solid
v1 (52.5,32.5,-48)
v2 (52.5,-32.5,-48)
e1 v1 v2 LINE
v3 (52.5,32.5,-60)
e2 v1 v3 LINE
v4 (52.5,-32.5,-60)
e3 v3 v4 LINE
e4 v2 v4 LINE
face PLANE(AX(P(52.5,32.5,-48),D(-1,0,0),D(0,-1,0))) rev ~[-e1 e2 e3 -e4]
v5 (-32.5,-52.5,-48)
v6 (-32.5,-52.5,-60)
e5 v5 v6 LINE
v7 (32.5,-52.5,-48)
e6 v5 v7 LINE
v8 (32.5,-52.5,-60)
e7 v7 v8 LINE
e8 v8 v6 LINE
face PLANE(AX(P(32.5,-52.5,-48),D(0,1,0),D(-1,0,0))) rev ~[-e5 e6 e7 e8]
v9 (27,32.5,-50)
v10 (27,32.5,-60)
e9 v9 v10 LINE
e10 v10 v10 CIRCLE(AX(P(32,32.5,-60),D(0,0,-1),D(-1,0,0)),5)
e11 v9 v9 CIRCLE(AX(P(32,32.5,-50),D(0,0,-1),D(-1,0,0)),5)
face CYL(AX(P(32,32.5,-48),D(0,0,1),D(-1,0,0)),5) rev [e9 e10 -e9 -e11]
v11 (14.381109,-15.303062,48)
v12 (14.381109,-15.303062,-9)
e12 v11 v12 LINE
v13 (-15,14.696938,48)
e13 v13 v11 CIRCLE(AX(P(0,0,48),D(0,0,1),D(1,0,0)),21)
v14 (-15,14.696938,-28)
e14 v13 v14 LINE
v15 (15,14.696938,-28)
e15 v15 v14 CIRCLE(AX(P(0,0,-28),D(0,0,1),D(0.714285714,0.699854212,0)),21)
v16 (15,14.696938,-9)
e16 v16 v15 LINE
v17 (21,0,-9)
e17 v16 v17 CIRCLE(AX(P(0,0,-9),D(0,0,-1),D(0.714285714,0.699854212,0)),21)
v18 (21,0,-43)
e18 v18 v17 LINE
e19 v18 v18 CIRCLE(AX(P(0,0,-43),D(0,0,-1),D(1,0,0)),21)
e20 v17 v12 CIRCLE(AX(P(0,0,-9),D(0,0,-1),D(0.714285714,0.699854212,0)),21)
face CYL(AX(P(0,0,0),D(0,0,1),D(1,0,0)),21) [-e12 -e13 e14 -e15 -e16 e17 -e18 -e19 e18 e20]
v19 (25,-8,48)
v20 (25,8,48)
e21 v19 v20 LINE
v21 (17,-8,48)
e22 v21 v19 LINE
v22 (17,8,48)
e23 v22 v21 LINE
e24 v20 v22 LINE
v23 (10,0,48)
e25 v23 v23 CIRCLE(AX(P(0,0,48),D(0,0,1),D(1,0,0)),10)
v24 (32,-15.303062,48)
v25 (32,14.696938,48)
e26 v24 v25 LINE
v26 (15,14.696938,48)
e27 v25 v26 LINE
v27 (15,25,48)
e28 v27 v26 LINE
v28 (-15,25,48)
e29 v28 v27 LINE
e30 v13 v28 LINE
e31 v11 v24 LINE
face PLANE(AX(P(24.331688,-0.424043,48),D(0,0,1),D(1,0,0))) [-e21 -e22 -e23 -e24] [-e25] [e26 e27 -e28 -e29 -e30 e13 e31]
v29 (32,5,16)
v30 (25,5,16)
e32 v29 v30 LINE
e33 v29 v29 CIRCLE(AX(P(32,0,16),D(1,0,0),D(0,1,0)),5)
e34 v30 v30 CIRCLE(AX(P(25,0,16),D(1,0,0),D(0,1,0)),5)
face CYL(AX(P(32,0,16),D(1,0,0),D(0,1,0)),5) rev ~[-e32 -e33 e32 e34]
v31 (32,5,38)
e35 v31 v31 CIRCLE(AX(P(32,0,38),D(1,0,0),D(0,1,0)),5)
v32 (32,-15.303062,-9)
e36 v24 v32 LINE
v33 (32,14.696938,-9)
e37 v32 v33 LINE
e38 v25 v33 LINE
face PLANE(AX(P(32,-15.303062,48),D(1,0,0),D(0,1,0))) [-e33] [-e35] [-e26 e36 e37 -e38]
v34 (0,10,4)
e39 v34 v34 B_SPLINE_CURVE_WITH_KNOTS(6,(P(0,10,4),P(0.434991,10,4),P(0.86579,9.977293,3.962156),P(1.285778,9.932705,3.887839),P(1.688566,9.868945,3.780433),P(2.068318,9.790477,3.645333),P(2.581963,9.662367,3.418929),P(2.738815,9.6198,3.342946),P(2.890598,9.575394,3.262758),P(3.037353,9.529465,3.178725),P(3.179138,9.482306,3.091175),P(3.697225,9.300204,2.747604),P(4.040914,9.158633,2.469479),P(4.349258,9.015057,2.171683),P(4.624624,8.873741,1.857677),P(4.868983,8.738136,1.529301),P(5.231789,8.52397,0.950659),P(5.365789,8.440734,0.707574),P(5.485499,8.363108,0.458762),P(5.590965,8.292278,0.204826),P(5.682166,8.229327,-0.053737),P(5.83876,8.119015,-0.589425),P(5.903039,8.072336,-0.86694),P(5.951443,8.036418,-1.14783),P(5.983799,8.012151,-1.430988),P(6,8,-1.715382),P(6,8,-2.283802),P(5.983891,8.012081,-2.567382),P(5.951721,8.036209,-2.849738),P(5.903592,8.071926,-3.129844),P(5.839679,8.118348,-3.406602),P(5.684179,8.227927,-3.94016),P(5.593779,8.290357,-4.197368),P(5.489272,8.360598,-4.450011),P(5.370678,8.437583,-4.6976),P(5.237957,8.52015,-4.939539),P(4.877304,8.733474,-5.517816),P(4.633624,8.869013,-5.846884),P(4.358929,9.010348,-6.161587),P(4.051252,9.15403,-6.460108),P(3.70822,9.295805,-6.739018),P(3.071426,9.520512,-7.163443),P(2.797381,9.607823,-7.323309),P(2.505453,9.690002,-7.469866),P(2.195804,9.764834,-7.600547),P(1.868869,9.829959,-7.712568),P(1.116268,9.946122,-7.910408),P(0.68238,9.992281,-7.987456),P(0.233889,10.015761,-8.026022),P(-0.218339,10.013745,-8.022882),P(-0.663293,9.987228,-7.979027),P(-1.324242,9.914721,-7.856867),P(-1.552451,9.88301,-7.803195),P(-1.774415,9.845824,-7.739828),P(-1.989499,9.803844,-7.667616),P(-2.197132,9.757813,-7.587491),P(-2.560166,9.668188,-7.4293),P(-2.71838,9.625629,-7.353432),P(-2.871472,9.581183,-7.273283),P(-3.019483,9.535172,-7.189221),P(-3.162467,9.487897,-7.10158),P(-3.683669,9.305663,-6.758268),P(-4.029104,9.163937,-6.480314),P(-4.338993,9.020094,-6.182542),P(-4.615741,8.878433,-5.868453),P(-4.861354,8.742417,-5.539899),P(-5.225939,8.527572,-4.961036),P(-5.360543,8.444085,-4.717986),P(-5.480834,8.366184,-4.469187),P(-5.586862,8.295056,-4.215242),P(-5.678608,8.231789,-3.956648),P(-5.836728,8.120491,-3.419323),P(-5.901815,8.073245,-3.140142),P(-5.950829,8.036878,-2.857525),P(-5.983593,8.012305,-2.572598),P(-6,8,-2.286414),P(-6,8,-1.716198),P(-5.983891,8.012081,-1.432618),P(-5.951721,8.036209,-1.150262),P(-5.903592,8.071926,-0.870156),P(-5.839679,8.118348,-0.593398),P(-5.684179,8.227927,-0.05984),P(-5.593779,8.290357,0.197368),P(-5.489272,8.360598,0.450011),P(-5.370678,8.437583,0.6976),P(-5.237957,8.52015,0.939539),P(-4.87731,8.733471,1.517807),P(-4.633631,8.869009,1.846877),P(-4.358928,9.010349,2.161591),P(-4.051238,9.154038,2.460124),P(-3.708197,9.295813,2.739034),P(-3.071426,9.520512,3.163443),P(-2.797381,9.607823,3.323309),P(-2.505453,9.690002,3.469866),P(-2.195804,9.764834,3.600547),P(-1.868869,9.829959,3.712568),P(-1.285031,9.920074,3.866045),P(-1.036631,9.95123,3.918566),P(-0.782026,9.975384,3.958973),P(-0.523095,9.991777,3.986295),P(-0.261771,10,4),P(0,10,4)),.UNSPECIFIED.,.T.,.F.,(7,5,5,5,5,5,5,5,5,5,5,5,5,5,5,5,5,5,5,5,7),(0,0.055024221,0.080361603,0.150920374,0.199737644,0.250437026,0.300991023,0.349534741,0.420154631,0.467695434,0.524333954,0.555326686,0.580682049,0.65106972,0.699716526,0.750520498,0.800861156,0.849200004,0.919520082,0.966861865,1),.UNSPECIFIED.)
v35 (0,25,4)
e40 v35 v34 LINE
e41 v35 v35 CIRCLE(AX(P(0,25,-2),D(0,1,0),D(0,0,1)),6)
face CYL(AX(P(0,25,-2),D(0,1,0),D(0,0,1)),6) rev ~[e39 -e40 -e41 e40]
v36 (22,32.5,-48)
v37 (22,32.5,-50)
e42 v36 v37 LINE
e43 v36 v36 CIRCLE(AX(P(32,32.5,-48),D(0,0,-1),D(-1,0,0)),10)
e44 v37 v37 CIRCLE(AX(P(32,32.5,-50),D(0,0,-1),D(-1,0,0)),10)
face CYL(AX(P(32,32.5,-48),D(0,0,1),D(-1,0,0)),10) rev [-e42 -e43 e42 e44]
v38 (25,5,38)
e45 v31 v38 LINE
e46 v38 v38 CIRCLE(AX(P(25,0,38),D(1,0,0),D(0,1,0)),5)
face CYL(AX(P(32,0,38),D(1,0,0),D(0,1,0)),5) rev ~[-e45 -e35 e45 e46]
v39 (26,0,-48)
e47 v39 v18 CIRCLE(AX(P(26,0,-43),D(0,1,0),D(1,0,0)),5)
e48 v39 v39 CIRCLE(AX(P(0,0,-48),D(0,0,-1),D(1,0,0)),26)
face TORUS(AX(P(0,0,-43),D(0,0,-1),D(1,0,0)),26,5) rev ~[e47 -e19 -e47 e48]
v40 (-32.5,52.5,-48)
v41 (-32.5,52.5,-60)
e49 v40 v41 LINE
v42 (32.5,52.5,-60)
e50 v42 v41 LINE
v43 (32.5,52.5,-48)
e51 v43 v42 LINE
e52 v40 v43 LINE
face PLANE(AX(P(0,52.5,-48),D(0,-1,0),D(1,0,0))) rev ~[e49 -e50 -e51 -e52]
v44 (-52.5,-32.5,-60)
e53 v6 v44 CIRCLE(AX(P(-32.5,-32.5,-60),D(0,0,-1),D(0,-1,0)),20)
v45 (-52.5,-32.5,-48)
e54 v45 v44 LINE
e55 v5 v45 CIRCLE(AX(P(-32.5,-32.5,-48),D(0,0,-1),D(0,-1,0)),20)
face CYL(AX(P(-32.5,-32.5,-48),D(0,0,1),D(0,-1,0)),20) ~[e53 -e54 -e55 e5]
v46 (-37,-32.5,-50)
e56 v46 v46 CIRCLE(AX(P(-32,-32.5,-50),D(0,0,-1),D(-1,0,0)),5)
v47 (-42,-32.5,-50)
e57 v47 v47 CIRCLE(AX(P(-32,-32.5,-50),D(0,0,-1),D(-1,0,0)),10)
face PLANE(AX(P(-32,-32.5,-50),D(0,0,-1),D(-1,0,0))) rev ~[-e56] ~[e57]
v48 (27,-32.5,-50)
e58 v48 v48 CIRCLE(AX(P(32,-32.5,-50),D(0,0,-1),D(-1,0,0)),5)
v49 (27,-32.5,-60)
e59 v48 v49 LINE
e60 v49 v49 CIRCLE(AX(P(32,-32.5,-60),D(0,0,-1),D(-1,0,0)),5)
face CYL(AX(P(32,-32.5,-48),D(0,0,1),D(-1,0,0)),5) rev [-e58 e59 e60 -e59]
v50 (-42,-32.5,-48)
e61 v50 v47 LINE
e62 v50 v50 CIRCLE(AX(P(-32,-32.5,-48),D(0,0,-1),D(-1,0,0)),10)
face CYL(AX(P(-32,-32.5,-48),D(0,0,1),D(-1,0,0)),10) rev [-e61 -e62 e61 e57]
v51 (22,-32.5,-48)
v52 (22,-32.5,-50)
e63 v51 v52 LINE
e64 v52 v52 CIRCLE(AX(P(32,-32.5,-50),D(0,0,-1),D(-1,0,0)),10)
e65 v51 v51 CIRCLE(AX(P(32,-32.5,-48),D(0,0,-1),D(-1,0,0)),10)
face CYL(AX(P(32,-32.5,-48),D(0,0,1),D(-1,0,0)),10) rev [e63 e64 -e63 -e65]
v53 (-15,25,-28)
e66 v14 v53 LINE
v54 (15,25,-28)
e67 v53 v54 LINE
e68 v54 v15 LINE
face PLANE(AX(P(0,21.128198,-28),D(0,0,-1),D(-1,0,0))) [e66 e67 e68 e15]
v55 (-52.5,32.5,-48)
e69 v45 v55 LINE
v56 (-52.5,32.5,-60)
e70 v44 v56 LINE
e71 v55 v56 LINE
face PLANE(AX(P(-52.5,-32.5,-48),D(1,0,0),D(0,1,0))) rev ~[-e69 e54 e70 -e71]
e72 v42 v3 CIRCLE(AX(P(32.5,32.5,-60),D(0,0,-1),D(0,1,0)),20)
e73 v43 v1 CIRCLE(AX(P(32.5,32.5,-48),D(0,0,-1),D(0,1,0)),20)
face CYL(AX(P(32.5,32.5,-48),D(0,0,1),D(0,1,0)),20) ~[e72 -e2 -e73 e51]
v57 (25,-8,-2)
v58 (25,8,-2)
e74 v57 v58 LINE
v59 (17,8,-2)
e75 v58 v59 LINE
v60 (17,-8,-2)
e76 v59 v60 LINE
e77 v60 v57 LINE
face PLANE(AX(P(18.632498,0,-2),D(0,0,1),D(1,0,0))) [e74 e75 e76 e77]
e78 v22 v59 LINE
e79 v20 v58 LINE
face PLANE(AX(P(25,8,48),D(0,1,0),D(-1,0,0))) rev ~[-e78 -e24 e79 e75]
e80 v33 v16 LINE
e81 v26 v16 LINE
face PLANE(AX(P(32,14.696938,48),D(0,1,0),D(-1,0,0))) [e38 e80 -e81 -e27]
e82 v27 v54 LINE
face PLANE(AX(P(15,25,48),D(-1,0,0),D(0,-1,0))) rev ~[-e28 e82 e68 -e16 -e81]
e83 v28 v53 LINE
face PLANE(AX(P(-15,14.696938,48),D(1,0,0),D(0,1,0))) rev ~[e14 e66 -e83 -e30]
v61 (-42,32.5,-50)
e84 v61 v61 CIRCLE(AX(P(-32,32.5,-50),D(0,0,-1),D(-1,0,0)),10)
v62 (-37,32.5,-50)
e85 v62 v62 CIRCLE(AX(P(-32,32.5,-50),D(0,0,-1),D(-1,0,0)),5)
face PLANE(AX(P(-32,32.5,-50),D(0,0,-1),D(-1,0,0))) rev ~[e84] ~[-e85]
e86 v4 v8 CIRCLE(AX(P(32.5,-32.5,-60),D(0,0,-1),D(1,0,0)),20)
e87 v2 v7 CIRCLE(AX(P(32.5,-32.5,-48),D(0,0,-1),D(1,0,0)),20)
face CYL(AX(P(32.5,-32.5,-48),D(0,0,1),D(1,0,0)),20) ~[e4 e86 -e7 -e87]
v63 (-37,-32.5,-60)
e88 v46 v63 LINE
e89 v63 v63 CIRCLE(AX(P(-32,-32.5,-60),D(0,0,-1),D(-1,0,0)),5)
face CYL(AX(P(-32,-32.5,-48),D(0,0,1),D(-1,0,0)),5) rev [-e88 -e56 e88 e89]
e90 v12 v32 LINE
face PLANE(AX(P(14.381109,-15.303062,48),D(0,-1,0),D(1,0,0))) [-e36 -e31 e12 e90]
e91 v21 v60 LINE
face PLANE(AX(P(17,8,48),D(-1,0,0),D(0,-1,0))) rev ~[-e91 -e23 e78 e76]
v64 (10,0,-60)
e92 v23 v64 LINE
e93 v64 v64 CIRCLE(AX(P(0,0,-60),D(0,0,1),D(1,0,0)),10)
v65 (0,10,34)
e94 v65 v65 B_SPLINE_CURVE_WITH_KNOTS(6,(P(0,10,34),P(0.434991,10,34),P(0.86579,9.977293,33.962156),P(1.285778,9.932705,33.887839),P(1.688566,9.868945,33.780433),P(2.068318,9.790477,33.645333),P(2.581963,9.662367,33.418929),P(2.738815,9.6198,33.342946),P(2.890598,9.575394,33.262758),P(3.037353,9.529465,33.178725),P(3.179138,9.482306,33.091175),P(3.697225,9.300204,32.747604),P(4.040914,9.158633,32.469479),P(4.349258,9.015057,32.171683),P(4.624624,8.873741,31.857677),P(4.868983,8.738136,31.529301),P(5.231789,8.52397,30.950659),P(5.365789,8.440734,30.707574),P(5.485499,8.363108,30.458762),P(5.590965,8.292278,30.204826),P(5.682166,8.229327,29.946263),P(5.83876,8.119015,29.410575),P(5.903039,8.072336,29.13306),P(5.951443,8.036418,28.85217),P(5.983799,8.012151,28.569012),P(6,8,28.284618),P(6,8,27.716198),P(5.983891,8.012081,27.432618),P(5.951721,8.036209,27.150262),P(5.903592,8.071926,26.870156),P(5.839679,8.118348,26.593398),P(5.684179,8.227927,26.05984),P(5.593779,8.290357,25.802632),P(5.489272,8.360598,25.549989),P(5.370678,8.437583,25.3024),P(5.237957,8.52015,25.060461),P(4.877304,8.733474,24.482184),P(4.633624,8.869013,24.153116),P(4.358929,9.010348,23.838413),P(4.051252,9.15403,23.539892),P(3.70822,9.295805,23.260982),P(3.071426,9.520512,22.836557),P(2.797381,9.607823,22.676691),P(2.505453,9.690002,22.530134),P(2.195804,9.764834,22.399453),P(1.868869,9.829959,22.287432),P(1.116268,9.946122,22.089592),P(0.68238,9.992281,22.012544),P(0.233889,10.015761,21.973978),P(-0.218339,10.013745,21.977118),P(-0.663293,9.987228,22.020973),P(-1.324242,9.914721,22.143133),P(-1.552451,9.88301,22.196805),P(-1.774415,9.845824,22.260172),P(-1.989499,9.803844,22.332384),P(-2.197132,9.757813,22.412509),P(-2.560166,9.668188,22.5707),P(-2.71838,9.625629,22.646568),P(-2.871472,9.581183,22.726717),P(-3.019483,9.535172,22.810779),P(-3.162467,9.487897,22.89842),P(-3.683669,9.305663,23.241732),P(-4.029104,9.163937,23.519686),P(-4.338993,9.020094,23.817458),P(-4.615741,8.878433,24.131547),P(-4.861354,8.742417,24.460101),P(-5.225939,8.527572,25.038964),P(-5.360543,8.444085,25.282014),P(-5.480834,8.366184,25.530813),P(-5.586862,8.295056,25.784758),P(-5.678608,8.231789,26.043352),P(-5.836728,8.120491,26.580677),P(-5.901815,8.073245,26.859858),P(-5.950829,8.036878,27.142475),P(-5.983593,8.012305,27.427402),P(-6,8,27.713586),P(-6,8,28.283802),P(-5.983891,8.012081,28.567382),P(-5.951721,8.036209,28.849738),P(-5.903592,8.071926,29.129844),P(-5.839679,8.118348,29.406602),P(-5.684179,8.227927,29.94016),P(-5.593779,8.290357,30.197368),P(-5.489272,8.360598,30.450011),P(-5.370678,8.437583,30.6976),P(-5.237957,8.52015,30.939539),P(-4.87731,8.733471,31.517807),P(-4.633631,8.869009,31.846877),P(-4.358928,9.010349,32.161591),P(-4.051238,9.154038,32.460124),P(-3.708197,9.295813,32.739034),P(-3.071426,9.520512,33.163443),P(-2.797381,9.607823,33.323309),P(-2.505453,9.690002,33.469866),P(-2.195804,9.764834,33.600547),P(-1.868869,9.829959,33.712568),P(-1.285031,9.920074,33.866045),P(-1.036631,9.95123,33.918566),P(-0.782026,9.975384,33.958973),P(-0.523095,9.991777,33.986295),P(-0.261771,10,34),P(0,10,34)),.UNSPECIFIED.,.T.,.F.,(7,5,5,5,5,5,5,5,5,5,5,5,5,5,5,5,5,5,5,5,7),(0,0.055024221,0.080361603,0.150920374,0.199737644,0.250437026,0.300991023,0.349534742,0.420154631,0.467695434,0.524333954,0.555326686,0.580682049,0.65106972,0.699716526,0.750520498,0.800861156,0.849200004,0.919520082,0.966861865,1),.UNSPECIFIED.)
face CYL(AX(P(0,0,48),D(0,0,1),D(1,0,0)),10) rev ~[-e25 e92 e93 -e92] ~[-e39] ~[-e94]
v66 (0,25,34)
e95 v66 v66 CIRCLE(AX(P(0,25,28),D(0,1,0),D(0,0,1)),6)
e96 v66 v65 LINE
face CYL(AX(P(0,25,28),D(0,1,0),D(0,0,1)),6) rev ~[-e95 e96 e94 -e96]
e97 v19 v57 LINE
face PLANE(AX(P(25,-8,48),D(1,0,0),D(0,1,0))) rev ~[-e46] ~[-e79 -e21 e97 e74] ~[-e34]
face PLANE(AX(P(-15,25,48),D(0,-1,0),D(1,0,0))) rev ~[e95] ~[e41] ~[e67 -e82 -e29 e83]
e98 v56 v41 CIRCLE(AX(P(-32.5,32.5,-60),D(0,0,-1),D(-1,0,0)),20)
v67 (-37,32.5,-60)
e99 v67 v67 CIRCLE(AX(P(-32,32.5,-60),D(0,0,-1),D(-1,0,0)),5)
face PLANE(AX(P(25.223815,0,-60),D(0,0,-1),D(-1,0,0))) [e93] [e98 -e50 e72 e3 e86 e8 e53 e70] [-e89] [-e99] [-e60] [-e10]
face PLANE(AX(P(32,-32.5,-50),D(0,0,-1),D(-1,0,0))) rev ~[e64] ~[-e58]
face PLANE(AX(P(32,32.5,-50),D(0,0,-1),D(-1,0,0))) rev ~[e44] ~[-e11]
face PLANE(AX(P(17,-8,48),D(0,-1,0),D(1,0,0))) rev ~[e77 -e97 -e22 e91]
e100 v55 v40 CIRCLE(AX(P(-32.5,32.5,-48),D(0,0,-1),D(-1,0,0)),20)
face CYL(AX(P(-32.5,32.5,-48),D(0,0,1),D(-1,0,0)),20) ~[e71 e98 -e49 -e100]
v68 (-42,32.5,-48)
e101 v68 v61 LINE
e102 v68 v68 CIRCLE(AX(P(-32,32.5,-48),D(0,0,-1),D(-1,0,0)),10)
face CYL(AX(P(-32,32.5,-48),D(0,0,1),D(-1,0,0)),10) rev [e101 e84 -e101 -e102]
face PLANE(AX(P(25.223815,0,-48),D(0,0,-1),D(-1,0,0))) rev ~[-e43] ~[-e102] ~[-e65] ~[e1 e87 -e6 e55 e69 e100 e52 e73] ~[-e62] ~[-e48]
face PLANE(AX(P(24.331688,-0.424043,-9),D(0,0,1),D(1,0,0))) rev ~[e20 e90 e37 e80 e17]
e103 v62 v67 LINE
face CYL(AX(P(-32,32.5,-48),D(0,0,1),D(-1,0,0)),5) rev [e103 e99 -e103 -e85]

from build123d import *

# Parameters (mm, degrees)
SKETCH1_R               = 21
BOSS_EXTRUDE1_DEPTH     = 48
SKETCH2_R               = 10
SKETCH2_R_2             = 5
BOSS_EXTRUDE2_DEPTH     = 12
SKETCH2_3_R             = 10
SKETCH2_3_R_2           = 5
CUT_EXTRUDE1_DEPTH      = 2
FILLET8_R               = 5
BOSS_EXTRUDE3_DEPTH     = 76
BOSS_EXTRUDE4_DEPTH     = 57
CUT_EXTRUDE2_DEPTH      = 50
SKETCH5_R               = 10
CUT_EXTRUDE3_DEPTH      = 132.059146953
CUT_EXTRUDE4_REACH      = 113.187
CUT_EXTRUDE4_END_RADIUS = 10
SKETCH6_R               = 6
CUT_EXTRUDE5_REACH      = 118.174
SKETCH7_R               = 5


with BuildPart() as part:
    # Sketch1 → Boss-Extrude1 (new, symmetric)
    with BuildSketch(Plane.XY):
        Circle(SKETCH1_R)
    extrude(amount=BOSS_EXTRUDE1_DEPTH, both=True)

    # Sketch2 → Boss-Extrude2 (add)
    # profile 1 of 10: a face of its own
    with BuildSketch(Plane(origin=(0, 0, -48), x_dir=(-1, 0, 0), z_dir=(0, 0, -1))):
        with BuildLine():
            Line((0, 52.5), (-32.5, 52.5))
            ThreePointArc((-32.5, 52.5), (-46.642135624, 46.642135624), (-52.5, 32.5))
            Line((-52.5, 32.5), (-52.5, -32.5))
            ThreePointArc((-52.5, -32.5), (-46.642135624, -46.642135624), (-32.5, -52.5))
            Line((-32.5, -52.5), (0, -52.5))
            Line((0, -52.5), (0, -21))
            ThreePointArc((0, -21), (-21, 0), (0, 21))
            Line((0, 21), (0, 52.5))
        make_face()
        with Locations((-32, -32.5)):
            Circle(SKETCH2_R, mode=Mode.SUBTRACT)
        with Locations((-32, 32.5)):
            Circle(SKETCH2_R, mode=Mode.SUBTRACT)
    # profile 2 of 10: a face of its own
    with BuildSketch(Plane(origin=(0, 0, -48), x_dir=(-1, 0, 0), z_dir=(0, 0, -1))):
        with BuildLine():
            Line((32.5, 52.5), (0, 52.5))
            Line((0, 52.5), (0, 21))
            ThreePointArc((0, 21), (14.849242405, 14.849242405), (21, 0))
            ThreePointArc((21, 0), (14.849242405, -14.849242405), (0, -21))
            Line((0, -21), (0, -52.5))
            Line((0, -52.5), (32.5, -52.5))
            ThreePointArc((32.5, -52.5), (46.642135624, -46.642135624), (52.5, -32.5))
            Line((52.5, -32.5), (52.5, 32.5))
            ThreePointArc((52.5, 32.5), (46.642135624, 46.642135624), (32.5, 52.5))
        make_face()
        with Locations((32, -32.5)):
            Circle(SKETCH2_R, mode=Mode.SUBTRACT)
        with Locations((32, 32.5)):
            Circle(SKETCH2_R, mode=Mode.SUBTRACT)
    # profile 3 of 10: a face of its own
    with BuildSketch(Plane(origin=(0, 0, -48), x_dir=(-1, 0, 0), z_dir=(0, 0, -1))):
        with Locations((-32, 32.5)):
            Circle(SKETCH2_R)
        with Locations((-32, 32.5)):
            Circle(SKETCH2_R_2, mode=Mode.SUBTRACT)
    # profile 4 of 10: a face of its own
    with BuildSketch(Plane(origin=(0, 0, -48), x_dir=(-1, 0, 0), z_dir=(0, 0, -1))):
        with Locations((-32, -32.5)):
            Circle(SKETCH2_R)
        with Locations((-32, -32.5)):
            Circle(SKETCH2_R_2, mode=Mode.SUBTRACT)
    # profile 5 of 10: a face of its own
    with BuildSketch(Plane(origin=(0, 0, -48), x_dir=(-1, 0, 0), z_dir=(0, 0, -1))):
        with Locations((32, 32.5)):
            Circle(SKETCH2_R)
        with Locations((32, 32.5)):
            Circle(SKETCH2_R_2, mode=Mode.SUBTRACT)
    # profile 6 of 10: a face of its own
    with BuildSketch(Plane(origin=(0, 0, -48), x_dir=(-1, 0, 0), z_dir=(0, 0, -1))):
        with Locations((32, -32.5)):
            Circle(SKETCH2_R)
        with Locations((32, -32.5)):
            Circle(SKETCH2_R_2, mode=Mode.SUBTRACT)
    # profile 7 of 10: a face of its own
    with BuildSketch(Plane(origin=(0, 0, -48), x_dir=(-1, 0, 0), z_dir=(0, 0, -1))):
        with BuildLine():
            ThreePointArc((21, 0), (14.849242405, 14.849242405), (0, 21))
            Line((0, 21), (0, -21))
            ThreePointArc((0, -21), (14.849242405, -14.849242405), (21, 0))
        make_face()
    # profile 8 of 10: a face of its own
    with BuildSketch(Plane(origin=(0, 0, -48), x_dir=(-1, 0, 0), z_dir=(0, 0, -1))):
        with BuildLine():
            Line((0, -21), (0, 21))
            ThreePointArc((0, 21), (-21, 0), (0, -21))
        make_face()
    # profile 9 of 10: a face of its own
    with BuildSketch(Plane(origin=(0, 0, -48), x_dir=(-1, 0, 0), z_dir=(0, 0, -1))):
        with BuildLine():
            ThreePointArc((21, 0), (14.849242405, 14.849242405), (0, 21))
            Line((0, 21), (0, -21))
            ThreePointArc((0, -21), (14.849242405, -14.849242405), (21, 0))
        make_face()
    # profile 10 of 10: a face of its own
    with BuildSketch(Plane(origin=(0, 0, -48), x_dir=(-1, 0, 0), z_dir=(0, 0, -1))):
        with BuildLine():
            Line((0, -21), (0, 21))
            ThreePointArc((0, 21), (-21, 0), (0, -21))
        make_face()
    extrude(amount=BOSS_EXTRUDE2_DEPTH)

    # Sketch2<3> → Cut-Extrude1 (cut)
    # profile 1 of 4: a face of its own
    with BuildSketch(Plane(origin=(0, 0, -48), x_dir=(-1, 0, 0), z_dir=(0, 0, -1))):
        with Locations((32, 32.5)):
            Circle(SKETCH2_3_R)
        with Locations((32, 32.5)):
            Circle(SKETCH2_3_R_2, mode=Mode.SUBTRACT)
    # profile 2 of 4: a face of its own
    with BuildSketch(Plane(origin=(0, 0, -48), x_dir=(-1, 0, 0), z_dir=(0, 0, -1))):
        with Locations((-32, 32.5)):
            Circle(SKETCH2_3_R)
        with Locations((-32, 32.5)):
            Circle(SKETCH2_3_R_2, mode=Mode.SUBTRACT)
    # profile 3 of 4: a face of its own
    with BuildSketch(Plane(origin=(0, 0, -48), x_dir=(-1, 0, 0), z_dir=(0, 0, -1))):
        with Locations((-32, -32.5)):
            Circle(SKETCH2_3_R)
        with Locations((-32, -32.5)):
            Circle(SKETCH2_3_R_2, mode=Mode.SUBTRACT)
    # profile 4 of 4: a face of its own
    with BuildSketch(Plane(origin=(0, 0, -48), x_dir=(-1, 0, 0), z_dir=(0, 0, -1))):
        with Locations((32, -32.5)):
            Circle(SKETCH2_3_R)
        with Locations((32, -32.5)):
            Circle(SKETCH2_3_R_2, mode=Mode.SUBTRACT)
    extrude(amount=CUT_EXTRUDE1_DEPTH, mode=Mode.SUBTRACT)

    # Fillet8
    fillet8_edges = [part.edges().sort_by_distance(p)[0] for p in [
        (-21, 0, -48),
    ]]
    fillet(fillet8_edges, radius=FILLET8_R)

    # Sketch3 → Boss-Extrude3 (add)
    with BuildSketch(Plane.XY.offset(48)):
        with BuildLine():
            Line((-15, 25), (15, 25))
            Line((15, 25), (15, 14.696938457))
            ThreePointArc((15, 14.696938457), (0, 21), (-15, 14.696938457))
            Line((-15, 14.696938457), (-15, 25))
        make_face()
    extrude(amount=-BOSS_EXTRUDE3_DEPTH)

    # Sketch4 → Boss-Extrude4 (add)
    with BuildSketch(Plane.XY.offset(48)):
        with BuildLine():
            Line((32, 14.696938457), (15, 14.696938457))
            ThreePointArc((15, 14.696938457), (20.995532794, -0.433131267), (14.381109394, -15.303061543))
            Line((14.381109394, -15.303061543), (32, -15.303061543))
            Line((32, -15.303061543), (32, 14.696938457))
        make_face()
    extrude(amount=-BOSS_EXTRUDE4_DEPTH)

    # Sketch4<3> → Cut-Extrude2 (cut)
    with BuildSketch(Plane.XY.offset(48)):
        with BuildLine():
            ThreePointArc((19.416487839, -8), (21, 0), (19.416487839, 8))
            Line((19.416487839, 8), (17, 8))
            Line((17, 8), (17, -8))
            Line((17, -8), (19.416487839, -8))
        make_face()
        with BuildLine():
            Line((25, 8), (19.416487839, 8))
            ThreePointArc((19.416487839, 8), (21, 0), (19.416487839, -8))
            Line((19.416487839, -8), (25, -8))
            Line((25, -8), (25, 8))
        make_face()
    extrude(amount=-CUT_EXTRUDE2_DEPTH, mode=Mode.SUBTRACT)

    # Sketch5 → Cut-Extrude3 (cut, through all)
    with BuildSketch(Plane.XY.offset(48)):
        Circle(SKETCH5_R)
    extrude(amount=-CUT_EXTRUDE3_DEPTH, mode=Mode.SUBTRACT)

    # Cut-Extrude4: up to this cylinder (the profile starts outside it)
    cut_extrude4_end = Plane(origin=(0, 0, 13), z_dir=(0, 0, 1)) * Cylinder(CUT_EXTRUDE4_END_RADIUS, 277.374, mode=Mode.PRIVATE)
    # Sketch6 → Cut-Extrude4 (cut, up to the surface)
    with BuildSketch(Plane(origin=(0, 25, 0), x_dir=(1, 0, 0), z_dir=(0, 1, 0)), mode=Mode.PRIVATE) as cut_extrude4_sk1:
        with Locations(Location((0, 2, 0), (0, 0, 270))):
            Circle(SKETCH6_R)
    cut_extrude4_tool1 = extrude(cut_extrude4_sk1.sketch, amount=-CUT_EXTRUDE4_REACH, mode=Mode.PRIVATE) - cut_extrude4_end
    add(cut_extrude4_tool1.solids().sort_by_distance((0, 25, -2))[0], mode=Mode.SUBTRACT)
    # Sketch6 → Cut-Extrude4 (cut, up to the surface)
    with BuildSketch(Plane(origin=(0, 25, 0), x_dir=(1, 0, 0), z_dir=(0, 1, 0)), mode=Mode.PRIVATE) as cut_extrude4_sk2:
        with Locations(Location((0, -28, 0), (0, 0, 270))):
            Circle(SKETCH6_R)
    cut_extrude4_tool2 = extrude(cut_extrude4_sk2.sketch, amount=-CUT_EXTRUDE4_REACH, mode=Mode.PRIVATE) - cut_extrude4_end
    add(cut_extrude4_tool2.solids().sort_by_distance((0, 25, 28))[0], mode=Mode.SUBTRACT)

    # Sketch7 → Cut-Extrude5 (cut, up to next)
    with BuildSketch(Plane(origin=(32, 0, 0), x_dir=(0, 0, -1), z_dir=(1, 0, 0)), mode=Mode.PRIVATE) as cut_extrude5_sk1:
        with Locations(Location((-38, 0, 0), (0, 0, 90))):
            Circle(SKETCH7_R)
    cut_extrude5_tool1 = extrude(cut_extrude5_sk1.sketch, amount=-CUT_EXTRUDE5_REACH, mode=Mode.PRIVATE) & part.part
    # Sketch7 → Cut-Extrude5 (cut, up to next)
    with BuildSketch(Plane(origin=(32, 0, 0), x_dir=(0, 0, -1), z_dir=(1, 0, 0)), mode=Mode.PRIVATE) as cut_extrude5_sk2:
        with Locations(Location((-16, 0, 0), (0, 0, 90))):
            Circle(SKETCH7_R)
    cut_extrude5_tool2 = extrude(cut_extrude5_sk2.sketch, amount=-CUT_EXTRUDE5_REACH, mode=Mode.PRIVATE) & part.part
    add(cut_extrude5_tool1.solids().sort_by_distance((32, 0, 38))[0], mode=Mode.SUBTRACT)
    add(cut_extrude5_tool2.solids().sort_by_distance((32, 0, 16))[0], mode=Mode.SUBTRACT)


solid = part.part
